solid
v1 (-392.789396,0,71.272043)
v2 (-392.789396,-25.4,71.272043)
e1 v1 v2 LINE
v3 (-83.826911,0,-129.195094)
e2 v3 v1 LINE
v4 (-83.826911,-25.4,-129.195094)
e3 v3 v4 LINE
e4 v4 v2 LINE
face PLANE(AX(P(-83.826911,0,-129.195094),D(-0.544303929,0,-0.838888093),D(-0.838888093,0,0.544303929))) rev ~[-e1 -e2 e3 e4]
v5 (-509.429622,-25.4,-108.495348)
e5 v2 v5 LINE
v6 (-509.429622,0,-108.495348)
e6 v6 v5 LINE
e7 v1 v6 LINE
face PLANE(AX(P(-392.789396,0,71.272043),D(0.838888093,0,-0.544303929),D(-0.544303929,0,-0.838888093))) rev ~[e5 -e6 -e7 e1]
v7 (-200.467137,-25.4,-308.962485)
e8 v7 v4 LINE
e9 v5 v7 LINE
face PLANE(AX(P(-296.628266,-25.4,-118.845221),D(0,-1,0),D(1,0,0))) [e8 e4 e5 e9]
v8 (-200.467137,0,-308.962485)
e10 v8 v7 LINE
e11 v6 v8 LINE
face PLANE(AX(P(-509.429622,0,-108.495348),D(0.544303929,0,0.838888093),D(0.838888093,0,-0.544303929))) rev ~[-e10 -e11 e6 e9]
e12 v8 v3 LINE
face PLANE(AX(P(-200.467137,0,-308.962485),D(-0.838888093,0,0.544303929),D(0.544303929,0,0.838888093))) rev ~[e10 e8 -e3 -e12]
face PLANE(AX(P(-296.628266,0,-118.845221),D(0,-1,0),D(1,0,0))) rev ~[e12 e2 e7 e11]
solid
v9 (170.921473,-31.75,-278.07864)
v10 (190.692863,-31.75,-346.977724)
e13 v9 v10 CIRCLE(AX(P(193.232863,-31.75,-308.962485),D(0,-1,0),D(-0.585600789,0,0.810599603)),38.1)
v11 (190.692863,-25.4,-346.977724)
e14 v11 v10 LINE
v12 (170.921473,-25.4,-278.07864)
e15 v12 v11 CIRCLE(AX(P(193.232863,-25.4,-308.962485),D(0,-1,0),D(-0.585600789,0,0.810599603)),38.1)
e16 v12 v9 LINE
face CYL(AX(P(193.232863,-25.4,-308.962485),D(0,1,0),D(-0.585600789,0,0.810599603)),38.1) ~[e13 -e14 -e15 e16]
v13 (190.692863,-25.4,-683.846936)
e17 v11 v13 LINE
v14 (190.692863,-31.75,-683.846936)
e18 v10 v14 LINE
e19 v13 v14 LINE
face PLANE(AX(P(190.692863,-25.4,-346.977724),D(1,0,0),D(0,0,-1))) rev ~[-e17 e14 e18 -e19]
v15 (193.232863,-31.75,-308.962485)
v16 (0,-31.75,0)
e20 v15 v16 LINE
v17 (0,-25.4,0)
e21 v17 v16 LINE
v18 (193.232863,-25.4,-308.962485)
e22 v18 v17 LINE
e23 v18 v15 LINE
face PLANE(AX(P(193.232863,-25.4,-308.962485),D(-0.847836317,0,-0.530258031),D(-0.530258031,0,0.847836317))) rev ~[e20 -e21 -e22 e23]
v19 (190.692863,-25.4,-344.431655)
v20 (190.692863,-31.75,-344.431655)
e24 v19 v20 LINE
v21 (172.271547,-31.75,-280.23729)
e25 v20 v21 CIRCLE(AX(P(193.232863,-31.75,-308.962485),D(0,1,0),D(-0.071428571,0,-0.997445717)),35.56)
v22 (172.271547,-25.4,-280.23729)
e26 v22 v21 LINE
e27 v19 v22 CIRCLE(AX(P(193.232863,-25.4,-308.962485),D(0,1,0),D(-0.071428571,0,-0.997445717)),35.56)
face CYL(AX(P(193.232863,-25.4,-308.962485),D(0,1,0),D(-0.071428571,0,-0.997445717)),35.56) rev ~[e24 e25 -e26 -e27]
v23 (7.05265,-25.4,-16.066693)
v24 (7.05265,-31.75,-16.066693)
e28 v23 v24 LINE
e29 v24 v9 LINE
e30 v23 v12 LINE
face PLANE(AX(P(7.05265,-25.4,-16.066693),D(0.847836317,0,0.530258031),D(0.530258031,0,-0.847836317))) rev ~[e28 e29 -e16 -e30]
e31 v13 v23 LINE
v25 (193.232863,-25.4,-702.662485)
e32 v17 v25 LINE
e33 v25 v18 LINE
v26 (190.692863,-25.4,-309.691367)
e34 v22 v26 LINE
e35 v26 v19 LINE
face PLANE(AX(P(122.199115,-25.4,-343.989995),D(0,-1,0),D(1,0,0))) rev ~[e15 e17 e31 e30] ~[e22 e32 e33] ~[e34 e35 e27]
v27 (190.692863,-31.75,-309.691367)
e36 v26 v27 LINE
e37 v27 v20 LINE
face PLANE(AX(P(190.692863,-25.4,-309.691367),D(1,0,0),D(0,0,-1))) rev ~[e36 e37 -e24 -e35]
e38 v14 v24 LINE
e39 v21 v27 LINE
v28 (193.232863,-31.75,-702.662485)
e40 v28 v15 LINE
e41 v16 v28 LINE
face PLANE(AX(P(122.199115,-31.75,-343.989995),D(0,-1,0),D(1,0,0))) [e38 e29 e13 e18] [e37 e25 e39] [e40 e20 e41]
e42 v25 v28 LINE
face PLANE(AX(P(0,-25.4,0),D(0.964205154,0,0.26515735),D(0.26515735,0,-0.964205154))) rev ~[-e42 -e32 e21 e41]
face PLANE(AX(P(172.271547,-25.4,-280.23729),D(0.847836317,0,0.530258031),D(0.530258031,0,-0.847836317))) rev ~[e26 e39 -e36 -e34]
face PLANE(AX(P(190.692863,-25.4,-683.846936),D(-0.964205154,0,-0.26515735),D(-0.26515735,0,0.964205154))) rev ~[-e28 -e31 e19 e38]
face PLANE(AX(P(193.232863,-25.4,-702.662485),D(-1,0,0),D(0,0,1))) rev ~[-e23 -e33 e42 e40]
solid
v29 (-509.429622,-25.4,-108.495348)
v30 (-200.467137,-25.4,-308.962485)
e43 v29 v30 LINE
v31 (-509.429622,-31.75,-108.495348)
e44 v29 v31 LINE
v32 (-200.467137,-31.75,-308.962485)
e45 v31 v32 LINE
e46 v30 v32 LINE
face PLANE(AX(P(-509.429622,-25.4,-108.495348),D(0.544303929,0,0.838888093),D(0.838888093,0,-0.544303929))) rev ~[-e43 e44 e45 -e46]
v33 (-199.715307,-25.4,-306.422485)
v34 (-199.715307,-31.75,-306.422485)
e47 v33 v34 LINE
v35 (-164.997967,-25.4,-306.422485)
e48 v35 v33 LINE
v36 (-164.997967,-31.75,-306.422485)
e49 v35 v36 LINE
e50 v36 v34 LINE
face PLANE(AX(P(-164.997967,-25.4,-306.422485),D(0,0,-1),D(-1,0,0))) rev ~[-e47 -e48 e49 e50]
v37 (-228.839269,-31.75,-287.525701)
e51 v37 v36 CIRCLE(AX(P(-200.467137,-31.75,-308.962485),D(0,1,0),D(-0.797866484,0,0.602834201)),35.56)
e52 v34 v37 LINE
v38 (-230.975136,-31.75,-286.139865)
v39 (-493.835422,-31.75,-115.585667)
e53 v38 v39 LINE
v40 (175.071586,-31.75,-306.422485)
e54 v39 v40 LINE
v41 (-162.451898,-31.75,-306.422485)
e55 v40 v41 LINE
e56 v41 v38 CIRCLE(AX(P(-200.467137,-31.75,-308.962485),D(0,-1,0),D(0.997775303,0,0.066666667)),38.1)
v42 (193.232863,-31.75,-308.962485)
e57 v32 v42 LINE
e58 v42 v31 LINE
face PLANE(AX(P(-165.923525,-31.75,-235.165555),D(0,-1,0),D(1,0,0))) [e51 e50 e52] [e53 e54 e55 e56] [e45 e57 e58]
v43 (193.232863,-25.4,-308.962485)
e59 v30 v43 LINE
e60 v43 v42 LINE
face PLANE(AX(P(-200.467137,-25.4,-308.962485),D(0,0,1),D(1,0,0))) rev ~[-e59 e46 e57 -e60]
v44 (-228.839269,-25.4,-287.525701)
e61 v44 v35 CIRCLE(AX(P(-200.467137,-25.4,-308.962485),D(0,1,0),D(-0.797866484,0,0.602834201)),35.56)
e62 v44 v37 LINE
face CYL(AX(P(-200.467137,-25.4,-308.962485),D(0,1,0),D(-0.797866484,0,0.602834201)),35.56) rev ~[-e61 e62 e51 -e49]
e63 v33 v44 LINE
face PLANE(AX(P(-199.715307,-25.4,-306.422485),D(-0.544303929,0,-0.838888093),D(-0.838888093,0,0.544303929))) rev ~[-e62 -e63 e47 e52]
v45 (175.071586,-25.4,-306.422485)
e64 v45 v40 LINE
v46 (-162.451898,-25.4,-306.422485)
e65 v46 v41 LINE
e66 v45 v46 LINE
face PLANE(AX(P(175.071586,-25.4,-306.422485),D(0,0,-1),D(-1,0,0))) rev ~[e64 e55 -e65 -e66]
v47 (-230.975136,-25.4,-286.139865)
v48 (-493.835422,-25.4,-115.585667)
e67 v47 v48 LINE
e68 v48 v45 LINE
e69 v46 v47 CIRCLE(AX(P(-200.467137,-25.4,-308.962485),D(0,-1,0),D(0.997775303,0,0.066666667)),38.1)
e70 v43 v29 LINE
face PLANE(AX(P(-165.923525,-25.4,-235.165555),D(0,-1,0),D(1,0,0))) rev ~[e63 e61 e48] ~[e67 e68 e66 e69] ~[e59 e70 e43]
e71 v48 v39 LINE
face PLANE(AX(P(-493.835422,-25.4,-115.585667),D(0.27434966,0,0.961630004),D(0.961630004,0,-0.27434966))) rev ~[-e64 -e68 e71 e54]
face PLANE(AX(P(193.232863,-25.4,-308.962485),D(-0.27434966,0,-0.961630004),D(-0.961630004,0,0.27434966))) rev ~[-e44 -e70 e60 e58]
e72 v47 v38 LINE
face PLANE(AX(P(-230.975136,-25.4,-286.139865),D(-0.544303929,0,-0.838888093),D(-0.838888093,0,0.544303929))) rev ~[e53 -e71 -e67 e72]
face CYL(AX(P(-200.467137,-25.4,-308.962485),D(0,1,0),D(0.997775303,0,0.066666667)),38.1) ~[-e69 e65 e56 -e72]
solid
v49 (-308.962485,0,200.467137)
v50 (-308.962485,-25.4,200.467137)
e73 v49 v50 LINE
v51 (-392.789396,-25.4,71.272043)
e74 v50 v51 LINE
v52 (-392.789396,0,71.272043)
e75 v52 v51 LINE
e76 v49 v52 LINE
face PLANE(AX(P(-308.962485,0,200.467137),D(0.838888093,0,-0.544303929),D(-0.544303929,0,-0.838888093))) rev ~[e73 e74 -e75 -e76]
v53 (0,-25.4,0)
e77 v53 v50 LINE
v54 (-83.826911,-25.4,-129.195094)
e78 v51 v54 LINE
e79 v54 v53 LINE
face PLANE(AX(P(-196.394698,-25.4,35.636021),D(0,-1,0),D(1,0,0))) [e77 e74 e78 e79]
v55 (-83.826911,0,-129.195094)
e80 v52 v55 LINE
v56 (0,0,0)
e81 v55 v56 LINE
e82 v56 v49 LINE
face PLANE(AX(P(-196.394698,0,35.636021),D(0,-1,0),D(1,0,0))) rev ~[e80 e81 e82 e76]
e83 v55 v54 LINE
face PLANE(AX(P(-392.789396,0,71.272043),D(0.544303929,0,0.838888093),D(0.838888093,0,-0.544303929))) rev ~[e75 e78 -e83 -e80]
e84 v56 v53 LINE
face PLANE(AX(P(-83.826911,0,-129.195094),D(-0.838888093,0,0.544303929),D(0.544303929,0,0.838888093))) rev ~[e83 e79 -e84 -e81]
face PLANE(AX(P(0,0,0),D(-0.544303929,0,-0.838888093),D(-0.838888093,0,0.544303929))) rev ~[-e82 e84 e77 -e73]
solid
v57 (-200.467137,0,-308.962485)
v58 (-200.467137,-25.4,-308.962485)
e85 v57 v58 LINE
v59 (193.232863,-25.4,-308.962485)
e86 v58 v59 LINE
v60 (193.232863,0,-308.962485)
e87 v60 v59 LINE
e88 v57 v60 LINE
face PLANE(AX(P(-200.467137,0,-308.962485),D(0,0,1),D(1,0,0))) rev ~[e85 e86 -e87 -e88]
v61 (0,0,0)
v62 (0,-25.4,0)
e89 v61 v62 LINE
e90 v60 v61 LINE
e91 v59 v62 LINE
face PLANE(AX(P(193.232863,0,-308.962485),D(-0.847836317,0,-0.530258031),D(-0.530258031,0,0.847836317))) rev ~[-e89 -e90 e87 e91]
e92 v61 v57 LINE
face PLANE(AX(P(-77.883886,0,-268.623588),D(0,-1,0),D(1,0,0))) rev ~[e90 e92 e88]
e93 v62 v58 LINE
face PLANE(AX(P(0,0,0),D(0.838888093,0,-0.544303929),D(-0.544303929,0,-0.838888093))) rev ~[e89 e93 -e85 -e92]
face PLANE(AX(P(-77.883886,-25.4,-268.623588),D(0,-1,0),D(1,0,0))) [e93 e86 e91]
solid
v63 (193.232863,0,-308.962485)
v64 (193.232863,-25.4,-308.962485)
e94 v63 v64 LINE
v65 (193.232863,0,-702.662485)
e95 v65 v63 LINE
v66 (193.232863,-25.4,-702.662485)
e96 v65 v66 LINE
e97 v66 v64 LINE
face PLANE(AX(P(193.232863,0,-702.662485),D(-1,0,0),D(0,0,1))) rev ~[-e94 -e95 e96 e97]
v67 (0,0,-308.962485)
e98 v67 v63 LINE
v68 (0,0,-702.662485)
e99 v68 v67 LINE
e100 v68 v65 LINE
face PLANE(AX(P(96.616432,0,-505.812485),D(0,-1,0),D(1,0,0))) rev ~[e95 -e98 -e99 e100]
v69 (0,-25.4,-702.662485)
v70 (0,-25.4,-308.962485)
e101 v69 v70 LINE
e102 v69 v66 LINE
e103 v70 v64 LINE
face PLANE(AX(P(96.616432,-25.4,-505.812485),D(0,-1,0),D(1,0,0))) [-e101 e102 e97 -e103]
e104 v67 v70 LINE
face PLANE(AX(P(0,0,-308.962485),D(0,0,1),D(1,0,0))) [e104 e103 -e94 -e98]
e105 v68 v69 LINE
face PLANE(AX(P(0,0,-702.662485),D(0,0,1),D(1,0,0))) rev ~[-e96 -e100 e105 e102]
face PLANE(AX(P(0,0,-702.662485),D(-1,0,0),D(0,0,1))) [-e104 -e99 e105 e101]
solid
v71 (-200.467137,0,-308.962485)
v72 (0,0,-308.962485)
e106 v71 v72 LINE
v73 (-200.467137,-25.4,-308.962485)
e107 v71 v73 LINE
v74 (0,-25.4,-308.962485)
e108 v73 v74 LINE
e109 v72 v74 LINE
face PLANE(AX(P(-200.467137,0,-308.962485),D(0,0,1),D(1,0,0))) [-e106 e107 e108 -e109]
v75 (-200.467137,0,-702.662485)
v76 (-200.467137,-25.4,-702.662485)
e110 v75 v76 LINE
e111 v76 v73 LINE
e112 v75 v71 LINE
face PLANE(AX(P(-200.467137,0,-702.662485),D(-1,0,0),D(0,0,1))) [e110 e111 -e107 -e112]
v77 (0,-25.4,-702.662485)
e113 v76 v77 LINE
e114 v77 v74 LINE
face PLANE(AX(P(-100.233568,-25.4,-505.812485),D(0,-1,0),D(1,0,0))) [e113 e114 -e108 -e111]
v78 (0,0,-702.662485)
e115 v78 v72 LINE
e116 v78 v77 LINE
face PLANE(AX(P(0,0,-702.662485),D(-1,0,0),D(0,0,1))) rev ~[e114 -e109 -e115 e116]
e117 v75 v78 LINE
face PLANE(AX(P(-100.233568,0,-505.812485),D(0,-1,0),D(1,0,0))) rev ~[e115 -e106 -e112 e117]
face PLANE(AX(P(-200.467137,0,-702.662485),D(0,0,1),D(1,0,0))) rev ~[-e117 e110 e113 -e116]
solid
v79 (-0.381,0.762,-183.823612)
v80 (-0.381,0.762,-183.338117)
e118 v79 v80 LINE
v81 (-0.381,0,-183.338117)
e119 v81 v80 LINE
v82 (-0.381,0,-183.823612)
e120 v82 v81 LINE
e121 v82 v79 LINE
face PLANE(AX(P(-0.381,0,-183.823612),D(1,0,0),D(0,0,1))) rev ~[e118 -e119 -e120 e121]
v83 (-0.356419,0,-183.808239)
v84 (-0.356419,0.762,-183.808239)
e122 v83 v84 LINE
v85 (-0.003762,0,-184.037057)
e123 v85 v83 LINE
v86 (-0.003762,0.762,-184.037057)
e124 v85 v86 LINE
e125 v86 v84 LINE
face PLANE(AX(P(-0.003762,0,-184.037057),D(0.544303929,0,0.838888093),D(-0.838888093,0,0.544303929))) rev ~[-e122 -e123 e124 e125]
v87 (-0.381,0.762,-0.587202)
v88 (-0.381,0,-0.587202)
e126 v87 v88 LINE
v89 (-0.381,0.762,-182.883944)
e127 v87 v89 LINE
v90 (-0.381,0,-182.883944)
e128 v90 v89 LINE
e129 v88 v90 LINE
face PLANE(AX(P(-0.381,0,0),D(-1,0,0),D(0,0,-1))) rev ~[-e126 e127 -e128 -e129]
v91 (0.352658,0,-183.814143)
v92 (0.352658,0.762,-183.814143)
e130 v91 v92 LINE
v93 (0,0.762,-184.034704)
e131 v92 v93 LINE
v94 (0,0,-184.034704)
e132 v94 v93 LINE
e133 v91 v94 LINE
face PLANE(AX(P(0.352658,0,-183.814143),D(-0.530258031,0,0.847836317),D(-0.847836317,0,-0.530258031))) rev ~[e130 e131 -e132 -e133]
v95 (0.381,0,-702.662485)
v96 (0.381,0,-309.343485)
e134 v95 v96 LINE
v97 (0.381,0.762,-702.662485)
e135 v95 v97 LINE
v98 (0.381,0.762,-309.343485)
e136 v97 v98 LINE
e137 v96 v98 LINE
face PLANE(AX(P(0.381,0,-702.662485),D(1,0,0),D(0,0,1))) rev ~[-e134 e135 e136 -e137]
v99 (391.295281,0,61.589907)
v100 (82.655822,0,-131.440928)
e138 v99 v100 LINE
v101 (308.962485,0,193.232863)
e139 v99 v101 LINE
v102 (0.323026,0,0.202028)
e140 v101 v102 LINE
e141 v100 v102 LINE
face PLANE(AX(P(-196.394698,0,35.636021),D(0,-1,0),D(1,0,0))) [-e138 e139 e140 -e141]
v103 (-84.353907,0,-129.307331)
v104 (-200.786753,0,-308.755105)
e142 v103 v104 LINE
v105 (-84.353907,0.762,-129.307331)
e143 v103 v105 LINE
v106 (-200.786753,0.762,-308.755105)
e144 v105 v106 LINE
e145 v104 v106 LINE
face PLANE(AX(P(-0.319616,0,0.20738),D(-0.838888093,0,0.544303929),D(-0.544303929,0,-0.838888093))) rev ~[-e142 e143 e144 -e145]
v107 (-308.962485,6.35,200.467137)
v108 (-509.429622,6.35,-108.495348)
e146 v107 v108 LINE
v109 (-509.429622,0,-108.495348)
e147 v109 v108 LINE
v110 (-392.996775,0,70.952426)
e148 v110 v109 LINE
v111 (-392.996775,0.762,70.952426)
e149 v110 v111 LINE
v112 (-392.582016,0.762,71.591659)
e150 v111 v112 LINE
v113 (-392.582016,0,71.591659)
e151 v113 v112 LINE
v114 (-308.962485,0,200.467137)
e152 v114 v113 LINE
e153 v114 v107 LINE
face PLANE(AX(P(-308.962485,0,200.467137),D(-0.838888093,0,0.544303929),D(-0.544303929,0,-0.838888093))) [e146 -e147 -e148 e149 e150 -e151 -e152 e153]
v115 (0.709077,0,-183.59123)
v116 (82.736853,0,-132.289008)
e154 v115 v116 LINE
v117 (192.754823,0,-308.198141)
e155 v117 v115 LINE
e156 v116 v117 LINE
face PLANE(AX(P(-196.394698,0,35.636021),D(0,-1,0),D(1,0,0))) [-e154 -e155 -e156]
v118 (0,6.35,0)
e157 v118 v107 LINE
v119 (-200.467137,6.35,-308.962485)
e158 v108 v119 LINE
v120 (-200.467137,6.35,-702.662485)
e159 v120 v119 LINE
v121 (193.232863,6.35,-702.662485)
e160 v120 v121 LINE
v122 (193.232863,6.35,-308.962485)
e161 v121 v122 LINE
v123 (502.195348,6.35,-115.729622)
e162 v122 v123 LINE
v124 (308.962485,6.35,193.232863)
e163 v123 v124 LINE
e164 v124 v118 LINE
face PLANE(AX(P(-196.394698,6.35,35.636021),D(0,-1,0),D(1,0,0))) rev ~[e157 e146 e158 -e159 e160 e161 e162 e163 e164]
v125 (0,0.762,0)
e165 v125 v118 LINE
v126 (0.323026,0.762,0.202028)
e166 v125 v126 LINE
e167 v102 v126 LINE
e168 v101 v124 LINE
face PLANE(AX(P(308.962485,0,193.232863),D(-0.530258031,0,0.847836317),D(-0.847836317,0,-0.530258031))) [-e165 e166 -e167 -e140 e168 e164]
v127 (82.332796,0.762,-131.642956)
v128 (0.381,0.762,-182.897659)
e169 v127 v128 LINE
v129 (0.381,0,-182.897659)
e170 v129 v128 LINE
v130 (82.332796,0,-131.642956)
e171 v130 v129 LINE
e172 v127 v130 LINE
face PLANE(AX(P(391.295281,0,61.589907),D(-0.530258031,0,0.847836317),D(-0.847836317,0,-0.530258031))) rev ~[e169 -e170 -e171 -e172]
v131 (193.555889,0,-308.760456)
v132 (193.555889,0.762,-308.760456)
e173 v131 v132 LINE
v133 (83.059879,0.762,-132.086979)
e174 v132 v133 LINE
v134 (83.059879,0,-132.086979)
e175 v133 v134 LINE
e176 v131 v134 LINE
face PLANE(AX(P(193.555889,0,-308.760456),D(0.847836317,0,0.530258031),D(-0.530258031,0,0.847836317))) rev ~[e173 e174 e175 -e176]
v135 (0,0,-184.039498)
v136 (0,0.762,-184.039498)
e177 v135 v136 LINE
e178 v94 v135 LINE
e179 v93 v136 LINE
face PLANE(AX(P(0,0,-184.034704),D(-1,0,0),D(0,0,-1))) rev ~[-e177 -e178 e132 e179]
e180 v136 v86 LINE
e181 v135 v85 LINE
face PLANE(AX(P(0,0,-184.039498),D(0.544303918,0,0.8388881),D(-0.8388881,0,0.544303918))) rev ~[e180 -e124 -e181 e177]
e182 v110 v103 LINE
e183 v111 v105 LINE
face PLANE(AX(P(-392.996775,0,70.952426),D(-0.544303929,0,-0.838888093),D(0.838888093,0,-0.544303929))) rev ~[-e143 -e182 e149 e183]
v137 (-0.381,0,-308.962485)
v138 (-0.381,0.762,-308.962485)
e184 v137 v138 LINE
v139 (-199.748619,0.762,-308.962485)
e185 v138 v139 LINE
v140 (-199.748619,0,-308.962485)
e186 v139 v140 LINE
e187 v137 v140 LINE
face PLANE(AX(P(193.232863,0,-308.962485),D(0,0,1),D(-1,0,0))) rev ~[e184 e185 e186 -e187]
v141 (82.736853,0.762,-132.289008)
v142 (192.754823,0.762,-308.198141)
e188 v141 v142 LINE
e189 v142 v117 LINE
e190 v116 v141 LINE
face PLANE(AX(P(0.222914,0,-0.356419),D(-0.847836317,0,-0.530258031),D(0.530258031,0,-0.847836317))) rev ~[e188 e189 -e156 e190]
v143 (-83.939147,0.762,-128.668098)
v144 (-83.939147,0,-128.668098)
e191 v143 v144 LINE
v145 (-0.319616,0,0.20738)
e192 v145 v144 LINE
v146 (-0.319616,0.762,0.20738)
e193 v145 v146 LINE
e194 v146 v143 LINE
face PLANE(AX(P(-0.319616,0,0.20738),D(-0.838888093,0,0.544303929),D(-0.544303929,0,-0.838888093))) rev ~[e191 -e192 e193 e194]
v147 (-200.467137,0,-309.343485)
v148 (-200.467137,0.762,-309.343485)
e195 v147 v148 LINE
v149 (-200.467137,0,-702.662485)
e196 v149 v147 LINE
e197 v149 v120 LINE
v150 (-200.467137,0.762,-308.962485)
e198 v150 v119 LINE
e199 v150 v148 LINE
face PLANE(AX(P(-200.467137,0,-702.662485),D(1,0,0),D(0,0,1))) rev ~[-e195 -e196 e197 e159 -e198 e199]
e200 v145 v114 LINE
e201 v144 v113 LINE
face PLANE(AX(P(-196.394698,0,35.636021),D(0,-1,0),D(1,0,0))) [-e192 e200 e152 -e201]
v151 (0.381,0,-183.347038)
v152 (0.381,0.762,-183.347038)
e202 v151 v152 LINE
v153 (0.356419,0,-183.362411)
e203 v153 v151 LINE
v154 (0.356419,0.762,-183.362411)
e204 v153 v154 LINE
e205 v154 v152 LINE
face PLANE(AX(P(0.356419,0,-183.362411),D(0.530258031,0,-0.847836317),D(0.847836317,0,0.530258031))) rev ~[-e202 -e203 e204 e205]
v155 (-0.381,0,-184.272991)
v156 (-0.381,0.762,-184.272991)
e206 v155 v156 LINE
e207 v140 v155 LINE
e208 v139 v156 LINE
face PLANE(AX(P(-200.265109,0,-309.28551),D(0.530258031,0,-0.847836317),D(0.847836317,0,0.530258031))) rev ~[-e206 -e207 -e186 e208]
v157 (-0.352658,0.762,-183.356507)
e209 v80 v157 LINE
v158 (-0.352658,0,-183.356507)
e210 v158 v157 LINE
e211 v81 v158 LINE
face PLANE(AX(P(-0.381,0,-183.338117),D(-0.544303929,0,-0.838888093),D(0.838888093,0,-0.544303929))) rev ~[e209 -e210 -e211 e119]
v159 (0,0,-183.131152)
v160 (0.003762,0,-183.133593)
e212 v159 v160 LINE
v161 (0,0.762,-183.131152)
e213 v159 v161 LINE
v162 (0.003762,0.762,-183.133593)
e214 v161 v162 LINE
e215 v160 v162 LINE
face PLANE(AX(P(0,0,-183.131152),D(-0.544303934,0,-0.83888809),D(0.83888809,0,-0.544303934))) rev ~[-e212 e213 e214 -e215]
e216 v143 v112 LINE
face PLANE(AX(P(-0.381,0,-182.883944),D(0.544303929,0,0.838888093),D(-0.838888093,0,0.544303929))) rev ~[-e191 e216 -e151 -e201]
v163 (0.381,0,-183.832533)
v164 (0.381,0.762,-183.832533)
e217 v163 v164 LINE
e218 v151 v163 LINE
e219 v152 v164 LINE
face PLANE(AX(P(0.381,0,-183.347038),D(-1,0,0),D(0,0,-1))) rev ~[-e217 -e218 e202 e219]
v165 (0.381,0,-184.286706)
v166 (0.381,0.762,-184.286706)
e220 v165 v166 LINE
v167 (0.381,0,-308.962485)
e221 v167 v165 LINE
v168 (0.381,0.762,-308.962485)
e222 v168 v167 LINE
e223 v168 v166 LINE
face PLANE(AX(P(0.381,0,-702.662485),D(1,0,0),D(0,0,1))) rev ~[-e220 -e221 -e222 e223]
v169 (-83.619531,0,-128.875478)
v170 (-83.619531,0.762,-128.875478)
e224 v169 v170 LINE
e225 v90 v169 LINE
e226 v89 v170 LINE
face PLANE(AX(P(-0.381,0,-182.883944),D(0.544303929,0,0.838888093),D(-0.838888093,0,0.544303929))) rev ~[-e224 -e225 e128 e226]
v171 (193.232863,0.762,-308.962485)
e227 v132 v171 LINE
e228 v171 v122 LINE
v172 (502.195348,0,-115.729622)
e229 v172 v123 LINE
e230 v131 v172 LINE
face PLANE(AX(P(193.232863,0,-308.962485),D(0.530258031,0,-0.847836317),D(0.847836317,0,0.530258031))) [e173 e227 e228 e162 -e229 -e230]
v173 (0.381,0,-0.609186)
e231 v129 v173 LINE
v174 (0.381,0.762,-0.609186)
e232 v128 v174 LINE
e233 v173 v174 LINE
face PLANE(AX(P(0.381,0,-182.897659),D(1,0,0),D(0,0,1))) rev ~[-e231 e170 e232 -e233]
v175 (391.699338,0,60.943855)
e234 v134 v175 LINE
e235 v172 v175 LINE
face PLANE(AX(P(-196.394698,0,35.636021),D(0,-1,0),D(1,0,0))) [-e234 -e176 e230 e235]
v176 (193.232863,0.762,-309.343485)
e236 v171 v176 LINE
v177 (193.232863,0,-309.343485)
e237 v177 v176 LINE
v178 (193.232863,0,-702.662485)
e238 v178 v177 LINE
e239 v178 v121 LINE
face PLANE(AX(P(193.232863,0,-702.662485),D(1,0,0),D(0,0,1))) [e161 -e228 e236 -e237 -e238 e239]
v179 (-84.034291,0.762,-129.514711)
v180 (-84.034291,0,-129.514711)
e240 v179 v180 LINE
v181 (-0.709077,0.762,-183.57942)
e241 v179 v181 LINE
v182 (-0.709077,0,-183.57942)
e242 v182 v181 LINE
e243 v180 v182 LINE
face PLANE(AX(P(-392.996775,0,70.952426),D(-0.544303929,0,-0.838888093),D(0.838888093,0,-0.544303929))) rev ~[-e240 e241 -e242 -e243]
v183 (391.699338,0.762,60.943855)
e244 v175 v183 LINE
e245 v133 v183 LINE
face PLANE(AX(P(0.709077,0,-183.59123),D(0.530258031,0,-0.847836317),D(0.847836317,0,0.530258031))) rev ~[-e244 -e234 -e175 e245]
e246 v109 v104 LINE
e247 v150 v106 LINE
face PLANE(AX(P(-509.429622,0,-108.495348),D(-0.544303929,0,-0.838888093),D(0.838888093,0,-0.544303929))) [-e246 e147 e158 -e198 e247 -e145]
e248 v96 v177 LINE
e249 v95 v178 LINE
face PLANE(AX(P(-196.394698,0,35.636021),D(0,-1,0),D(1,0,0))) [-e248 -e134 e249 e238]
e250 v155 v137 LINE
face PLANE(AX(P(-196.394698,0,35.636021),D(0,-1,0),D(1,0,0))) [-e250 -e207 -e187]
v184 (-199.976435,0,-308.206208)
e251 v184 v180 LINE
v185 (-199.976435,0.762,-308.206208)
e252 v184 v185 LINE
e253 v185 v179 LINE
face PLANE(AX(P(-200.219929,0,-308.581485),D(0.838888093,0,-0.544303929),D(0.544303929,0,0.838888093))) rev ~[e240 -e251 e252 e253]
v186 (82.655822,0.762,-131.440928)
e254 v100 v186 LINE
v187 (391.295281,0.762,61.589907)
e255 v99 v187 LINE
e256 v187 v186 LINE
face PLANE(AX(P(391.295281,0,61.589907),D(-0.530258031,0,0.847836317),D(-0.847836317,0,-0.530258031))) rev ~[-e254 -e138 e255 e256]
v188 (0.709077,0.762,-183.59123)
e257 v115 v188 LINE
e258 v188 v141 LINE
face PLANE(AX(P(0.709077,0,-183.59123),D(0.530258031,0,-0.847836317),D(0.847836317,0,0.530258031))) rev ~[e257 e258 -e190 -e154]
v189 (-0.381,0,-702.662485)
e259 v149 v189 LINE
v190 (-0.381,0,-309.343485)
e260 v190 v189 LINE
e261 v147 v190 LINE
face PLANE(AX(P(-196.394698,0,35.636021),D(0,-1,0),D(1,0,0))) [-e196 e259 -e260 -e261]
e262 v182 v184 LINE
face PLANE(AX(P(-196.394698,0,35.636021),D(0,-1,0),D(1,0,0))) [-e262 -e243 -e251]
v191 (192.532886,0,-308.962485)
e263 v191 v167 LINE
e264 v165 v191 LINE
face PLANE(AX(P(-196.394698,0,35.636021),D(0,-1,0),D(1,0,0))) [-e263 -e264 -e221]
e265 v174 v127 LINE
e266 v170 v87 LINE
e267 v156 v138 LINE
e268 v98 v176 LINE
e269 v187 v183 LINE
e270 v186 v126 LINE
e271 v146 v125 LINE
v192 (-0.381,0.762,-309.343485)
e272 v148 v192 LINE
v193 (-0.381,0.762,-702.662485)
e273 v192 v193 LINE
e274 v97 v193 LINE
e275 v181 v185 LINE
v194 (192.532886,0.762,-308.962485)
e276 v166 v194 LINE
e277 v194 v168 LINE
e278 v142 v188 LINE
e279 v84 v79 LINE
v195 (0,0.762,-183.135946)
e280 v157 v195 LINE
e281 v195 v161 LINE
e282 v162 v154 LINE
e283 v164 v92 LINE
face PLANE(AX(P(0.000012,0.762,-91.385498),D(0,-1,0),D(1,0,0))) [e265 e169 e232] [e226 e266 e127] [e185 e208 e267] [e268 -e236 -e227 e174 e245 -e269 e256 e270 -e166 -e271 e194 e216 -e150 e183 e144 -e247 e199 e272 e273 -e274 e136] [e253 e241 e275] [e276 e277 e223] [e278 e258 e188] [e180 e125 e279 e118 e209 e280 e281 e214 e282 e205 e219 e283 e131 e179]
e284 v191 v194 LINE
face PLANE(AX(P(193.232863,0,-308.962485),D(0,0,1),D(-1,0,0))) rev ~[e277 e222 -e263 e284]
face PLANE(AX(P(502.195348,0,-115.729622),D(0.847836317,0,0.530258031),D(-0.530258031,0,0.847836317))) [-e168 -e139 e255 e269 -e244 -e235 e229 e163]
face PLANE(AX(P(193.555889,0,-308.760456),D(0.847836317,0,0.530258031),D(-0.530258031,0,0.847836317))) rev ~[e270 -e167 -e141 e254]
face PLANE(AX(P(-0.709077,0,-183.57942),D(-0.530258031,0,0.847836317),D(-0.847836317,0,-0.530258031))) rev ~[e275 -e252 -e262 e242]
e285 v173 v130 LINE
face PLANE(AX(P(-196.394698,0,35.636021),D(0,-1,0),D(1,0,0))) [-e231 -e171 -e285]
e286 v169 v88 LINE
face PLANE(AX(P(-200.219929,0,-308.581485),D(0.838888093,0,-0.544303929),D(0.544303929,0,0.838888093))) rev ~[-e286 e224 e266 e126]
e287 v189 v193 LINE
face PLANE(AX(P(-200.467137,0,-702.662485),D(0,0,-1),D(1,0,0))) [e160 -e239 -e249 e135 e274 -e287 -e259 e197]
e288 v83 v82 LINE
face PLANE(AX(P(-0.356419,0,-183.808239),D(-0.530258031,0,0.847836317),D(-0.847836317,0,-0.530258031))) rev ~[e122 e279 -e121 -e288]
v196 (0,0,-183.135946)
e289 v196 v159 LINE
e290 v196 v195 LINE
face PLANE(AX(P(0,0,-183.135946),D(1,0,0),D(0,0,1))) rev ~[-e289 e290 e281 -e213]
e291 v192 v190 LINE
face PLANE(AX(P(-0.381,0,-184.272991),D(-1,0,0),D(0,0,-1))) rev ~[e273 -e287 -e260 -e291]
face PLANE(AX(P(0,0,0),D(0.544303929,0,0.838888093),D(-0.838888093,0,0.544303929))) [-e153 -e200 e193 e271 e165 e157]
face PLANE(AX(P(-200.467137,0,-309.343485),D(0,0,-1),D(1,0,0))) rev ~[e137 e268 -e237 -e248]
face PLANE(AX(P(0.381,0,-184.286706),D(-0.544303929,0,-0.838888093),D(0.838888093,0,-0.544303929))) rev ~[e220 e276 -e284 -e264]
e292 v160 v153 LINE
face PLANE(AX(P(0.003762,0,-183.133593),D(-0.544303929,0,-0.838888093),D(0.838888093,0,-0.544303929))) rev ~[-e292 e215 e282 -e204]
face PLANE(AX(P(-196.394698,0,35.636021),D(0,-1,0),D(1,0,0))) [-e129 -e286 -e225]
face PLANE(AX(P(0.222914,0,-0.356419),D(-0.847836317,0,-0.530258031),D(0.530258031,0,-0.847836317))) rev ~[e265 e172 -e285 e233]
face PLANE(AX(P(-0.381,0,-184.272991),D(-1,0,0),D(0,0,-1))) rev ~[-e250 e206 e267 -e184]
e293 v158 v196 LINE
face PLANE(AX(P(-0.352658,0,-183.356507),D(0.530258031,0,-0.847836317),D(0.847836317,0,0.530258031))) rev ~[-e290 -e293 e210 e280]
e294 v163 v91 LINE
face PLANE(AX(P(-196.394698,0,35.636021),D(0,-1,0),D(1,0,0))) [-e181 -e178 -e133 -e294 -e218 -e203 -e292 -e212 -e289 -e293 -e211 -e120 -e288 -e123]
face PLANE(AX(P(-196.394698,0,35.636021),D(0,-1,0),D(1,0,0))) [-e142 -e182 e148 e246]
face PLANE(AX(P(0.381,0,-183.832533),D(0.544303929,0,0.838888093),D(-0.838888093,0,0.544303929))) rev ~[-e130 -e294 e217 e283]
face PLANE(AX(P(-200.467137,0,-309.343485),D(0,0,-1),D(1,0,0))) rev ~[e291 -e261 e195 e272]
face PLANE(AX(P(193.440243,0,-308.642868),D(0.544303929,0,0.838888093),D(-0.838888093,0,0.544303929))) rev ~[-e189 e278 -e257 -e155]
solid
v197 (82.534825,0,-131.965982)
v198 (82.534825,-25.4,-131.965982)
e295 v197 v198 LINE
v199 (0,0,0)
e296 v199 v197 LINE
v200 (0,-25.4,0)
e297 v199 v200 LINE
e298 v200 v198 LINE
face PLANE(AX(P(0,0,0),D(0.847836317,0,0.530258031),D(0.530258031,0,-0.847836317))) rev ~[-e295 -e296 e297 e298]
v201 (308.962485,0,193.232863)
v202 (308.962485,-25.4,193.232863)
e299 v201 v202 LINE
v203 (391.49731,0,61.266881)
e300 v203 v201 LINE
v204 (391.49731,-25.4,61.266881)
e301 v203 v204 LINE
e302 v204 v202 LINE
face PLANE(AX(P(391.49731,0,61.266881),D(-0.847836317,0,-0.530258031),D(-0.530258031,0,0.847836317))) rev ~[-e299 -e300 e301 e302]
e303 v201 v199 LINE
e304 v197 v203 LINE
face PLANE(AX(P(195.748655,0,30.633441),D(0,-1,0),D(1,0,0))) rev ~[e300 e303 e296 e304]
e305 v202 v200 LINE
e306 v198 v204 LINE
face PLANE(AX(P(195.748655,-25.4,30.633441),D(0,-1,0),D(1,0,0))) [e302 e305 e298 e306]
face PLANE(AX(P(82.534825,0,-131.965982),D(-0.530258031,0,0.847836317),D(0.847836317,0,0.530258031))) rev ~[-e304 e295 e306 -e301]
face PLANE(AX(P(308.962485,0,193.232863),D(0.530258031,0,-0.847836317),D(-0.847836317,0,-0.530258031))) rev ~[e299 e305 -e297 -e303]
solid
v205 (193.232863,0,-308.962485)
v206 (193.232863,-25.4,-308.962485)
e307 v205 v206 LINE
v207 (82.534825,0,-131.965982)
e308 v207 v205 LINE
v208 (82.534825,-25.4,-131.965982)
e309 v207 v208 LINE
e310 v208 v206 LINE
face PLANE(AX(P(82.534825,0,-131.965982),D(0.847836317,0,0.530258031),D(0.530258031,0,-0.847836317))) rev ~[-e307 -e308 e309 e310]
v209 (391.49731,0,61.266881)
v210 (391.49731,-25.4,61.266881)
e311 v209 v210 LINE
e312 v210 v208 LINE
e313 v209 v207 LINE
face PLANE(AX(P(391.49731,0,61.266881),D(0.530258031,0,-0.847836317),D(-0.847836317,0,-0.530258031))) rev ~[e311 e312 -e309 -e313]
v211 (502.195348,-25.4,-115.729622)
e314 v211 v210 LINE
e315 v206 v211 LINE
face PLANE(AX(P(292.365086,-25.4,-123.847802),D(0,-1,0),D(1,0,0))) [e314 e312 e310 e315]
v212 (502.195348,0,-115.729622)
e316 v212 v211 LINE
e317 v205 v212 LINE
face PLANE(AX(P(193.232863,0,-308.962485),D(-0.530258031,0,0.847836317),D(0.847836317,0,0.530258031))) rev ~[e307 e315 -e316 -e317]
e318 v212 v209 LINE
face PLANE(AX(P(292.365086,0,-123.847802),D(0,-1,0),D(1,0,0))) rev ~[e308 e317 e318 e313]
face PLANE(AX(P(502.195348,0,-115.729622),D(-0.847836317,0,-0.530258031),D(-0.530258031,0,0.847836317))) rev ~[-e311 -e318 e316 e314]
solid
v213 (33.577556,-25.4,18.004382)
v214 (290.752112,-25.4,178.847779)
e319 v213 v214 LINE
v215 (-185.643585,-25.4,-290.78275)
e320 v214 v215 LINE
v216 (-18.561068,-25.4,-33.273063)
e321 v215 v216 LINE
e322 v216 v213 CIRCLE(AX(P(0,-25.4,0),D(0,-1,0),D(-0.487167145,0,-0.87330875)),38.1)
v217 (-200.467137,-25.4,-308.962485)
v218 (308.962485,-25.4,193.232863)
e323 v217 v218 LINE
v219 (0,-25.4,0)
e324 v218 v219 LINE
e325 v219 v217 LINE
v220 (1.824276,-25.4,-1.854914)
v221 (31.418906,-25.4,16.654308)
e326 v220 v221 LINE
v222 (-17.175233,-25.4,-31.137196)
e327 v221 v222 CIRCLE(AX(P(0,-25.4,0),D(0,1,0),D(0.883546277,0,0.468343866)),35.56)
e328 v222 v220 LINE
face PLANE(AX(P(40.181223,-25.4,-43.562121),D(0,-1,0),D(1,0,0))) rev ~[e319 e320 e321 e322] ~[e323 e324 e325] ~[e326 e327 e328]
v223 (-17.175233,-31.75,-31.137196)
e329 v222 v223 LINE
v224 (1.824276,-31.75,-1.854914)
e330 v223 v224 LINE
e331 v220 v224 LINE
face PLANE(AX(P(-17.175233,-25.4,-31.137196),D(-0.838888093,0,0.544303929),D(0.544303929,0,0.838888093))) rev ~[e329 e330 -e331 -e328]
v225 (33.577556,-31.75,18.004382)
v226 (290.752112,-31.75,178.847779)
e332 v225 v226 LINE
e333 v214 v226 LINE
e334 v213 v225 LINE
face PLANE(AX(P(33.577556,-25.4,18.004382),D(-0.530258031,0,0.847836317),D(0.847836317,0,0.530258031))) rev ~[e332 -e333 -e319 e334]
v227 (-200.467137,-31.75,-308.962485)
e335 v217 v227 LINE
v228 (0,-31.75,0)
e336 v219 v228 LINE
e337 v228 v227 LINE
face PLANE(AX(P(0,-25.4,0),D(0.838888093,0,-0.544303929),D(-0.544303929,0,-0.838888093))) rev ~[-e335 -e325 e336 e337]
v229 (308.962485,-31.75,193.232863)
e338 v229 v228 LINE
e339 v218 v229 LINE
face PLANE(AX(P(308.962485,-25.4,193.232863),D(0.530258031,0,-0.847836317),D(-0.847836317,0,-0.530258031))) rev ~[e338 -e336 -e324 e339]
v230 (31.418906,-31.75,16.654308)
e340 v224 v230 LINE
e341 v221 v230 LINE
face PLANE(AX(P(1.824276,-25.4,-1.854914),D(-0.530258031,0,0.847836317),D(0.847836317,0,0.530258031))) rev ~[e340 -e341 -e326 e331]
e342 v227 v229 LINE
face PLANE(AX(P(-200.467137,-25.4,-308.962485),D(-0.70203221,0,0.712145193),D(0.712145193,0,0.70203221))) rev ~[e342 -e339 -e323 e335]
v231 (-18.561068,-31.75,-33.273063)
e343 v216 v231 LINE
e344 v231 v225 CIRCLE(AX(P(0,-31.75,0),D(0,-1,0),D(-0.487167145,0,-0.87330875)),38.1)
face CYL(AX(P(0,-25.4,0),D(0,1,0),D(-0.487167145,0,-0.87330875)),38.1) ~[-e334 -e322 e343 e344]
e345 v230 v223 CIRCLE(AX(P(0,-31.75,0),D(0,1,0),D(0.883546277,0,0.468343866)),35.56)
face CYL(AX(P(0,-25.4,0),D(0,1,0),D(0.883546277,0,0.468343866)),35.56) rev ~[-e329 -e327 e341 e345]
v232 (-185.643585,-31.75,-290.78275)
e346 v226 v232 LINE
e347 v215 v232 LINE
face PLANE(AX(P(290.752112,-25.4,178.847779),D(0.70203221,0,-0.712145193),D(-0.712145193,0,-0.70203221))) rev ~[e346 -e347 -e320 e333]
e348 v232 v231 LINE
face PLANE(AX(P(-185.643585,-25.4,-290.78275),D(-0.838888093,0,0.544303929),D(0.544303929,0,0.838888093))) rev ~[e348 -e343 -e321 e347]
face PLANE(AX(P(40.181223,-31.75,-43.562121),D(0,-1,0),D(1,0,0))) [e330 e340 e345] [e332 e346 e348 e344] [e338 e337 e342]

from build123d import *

# Parameters (mm, degrees)
F0_W      = 200.4671369366
F0_H      = 393.7
F0_W_2    = 193.2328630634
F1_DEPTH  = 6.35
F4_DEPTH  = 0.762
F5_DEPTH  = 25.4
F6_DEPTH  = 25.4
F7_DEPTH  = 25.4
F8_DEPTH  = 25.4
F10_DEPTH = 6.35
F12_DEPTH = 6.35
F14_DEPTH = 6.35


with BuildPart() as f1:
    # F0 (on Front) → F1 (new body)
    with BuildSketch(Plane.XZ):
        Polygon((-83.8269108523, -129.1950943436), (0, 0), (-308.9624847913, 200.4671369366), (-392.7893956437, 71.272042593), align=None)
        Polygon((-200.4671369366, -308.9624847913), (-83.8269108523, -129.1950943436), (-392.7893956437, 71.272042593), (-509.429621728, -108.4953478547), align=None)
        with Locations((-100.2335684683, -505.8124847913)):
            Rectangle(F0_W, F0_H)
        with Locations((96.6164315317, -505.8124847913)):
            Rectangle(F0_W_2, F0_H)
        Polygon((391.4973095124, 61.2668810695), (82.5348247211, -131.9659819939), (193.2328630634, -308.9624847913), (502.1953478547, -115.729621728), align=None)
        Polygon((308.9624847913, 193.2328630634), (0, 0), (82.5348247211, -131.9659819939), (391.4973095124, 61.2668810695), align=None)
        Polygon((193.2328630634, -308.9624847913), (82.5348247211, -131.9659819939), (0, -183.5853250156), align=None)
        Polygon((82.5348247211, -131.9659819939), (0, 0), (0, -183.5853250156), align=None)
        Polygon((0, -183.5853250156), (0, 0), (-83.8269108523, -129.1950943436), align=None)
        Polygon((0, -183.5853250156), (-83.8269108523, -129.1950943436), (-200.4671369366, -308.9624847913), align=None)
        Polygon((0, -308.9624847913), (0, -183.5853250156), (-200.4671369366, -308.9624847913), align=None)
        Polygon((193.2328630634, -308.9624847913), (0, -183.5853250156), (0, -308.9624847913), align=None)
    extrude(amount=-F1_DEPTH)

    # F2 (on face) + F3 (on face) → F4 (cut)
    with BuildSketch(Plane.XZ):
        with BuildLine():
            Line((-0.381, -182.8839444602), (0, -183.1311523995))
            Line((0, -183.1311523995), (0.0037617167, -183.1335931508))
            Line((0.0037617167, -183.1335931508), (0.381, -182.8976588962))
            Line((0.381, -182.8976588962), (0.381, 0))
            ThreePointArc((0.381, 0), (0, 0.381), (-0.381, 0))
            Line((-0.381, 0), (-0.381, -182.8839444602))
        make_face()
        Polygon((0, -183.1359458225), (0, -183.1311523995), (-0.381, -182.8839444602), (-0.381, -183.3381170764), (-0.3526576381, -183.356506727), align=None)
        Polygon((0.381, -182.8976588962), (0.0037617167, -183.1335931508), (0.3564193548, -183.3624114395), (0.381, -183.3470380894), align=None)
        with BuildLine():
            Line((-0.381, -183.3381170764), (-0.381, -182.8839444602))
            Line((-0.381, -182.8839444602), (-392.5820158468, 71.5916589566))
            ThreePointArc((-392.5820158468, 71.5916589566), (-393.1090120072, 71.4794223899), (-392.9967754405, 70.9524262295))
            Line((-392.9967754405, 70.9524262295), (-0.7090769929, -183.5794203031))
            Line((-0.7090769929, -183.5794203031), (-0.381, -183.3742327487))
            Line((-0.381, -183.3742327487), (-0.381, -183.3381170764))
        make_face()
        with BuildLine():
            Line((391.2952812025, 61.5899067062), (0.381, -182.8976588962))
            Line((0.381, -182.8976588962), (0.381, -183.3470380894))
            Line((0.381, -183.3470380894), (0.381, -183.3783603388))
            Line((0.381, -183.3783603388), (0.7090769929, -183.5912297281))
            Line((0.7090769929, -183.5912297281), (391.6993378223, 60.9438554327))
            ThreePointArc((391.6993378223, 60.9438554327), (391.8203351492, 61.4689093794), (391.2952812025, 61.5899067062))
        make_face()
        Polygon((0.3526576381, -183.8141433043), (0, -184.0347042088), (0, -184.0394976317), (0.381, -184.286705571), (0.381, -183.8325329549), align=None)
        Polygon((-0.0037617167, -184.0370568805), (-0.3564193548, -183.8082385918), (-0.381, -183.8236119419), (-0.381, -184.272991135), align=None)
        Polygon((-0.381, -183.7922896925), (-0.381, -183.3742327487), (-0.7090769929, -183.5794203031), align=None)
        Polygon((0.7090769929, -183.5912297281), (0.381, -183.3783603388), (0.381, -183.7964172825), align=None)
        with BuildLine():
            Line((0.381, -184.286705571), (0, -184.0394976317))
            Line((0, -184.0394976317), (-0.0037617167, -184.0370568805))
            Line((-0.0037617167, -184.0370568805), (-0.381, -184.272991135))
            Line((-0.381, -184.272991135), (-0.381, -702.6624847913))
            ThreePointArc((-0.381, -702.6624847913), (0, -703.0434847913), (0.381, -702.6624847913))
            Line((0.381, -702.6624847913), (0.381, -184.286705571))
        make_face()
        with BuildLine():
            Line((0.381, -183.7964172825), (0.381, -183.8325329549))
            Line((0.381, -183.8325329549), (0.381, -184.286705571))
            Line((0.381, -184.286705571), (193.0254832665, -309.2821011549))
            ThreePointArc((193.0254832665, -309.2821011549), (193.552479427, -309.1698645882), (193.4402428602, -308.6428684278))
            Line((193.4402428602, -308.6428684278), (0.7090769929, -183.5912297281))
            Line((0.7090769929, -183.5912297281), (0.381, -183.7964172825))
        make_face()
        with BuildLine():
            Line((-0.381, -184.272991135), (-0.381, -183.8236119419))
            Line((-0.381, -183.8236119419), (-0.381, -183.7922896925))
            Line((-0.381, -183.7922896925), (-0.7090769929, -183.5794203031))
            Line((-0.7090769929, -183.5794203031), (-200.6691652465, -308.6394591546))
            ThreePointArc((-200.6691652465, -308.6394591546), (-200.7901625734, -309.1645131012), (-200.2651086267, -309.2855104281))
            Line((-200.2651086267, -309.2855104281), (-0.381, -184.272991135))
        make_face()
    with BuildSketch(Plane.XZ):
        with BuildLine():
            Line((-0.2288182887, -0.3526576381), (0, 0))
            Line((0, 0), (0.2229135762, -0.3564193548))
            Line((0.2229135762, -0.3564193548), (0.3196163636, -0.2073797968))
            ThreePointArc((0.3196163636, -0.2073797968), (0.3809867906, -0.0031725997), (0.3230256367, 0.2020283099))
            ThreePointArc((0.3230256367, 0.2020283099), (0.0031725997, 0.3809867906), (-0.3196163636, 0.2073797968))
            ThreePointArc((-0.3196163636, 0.2073797968), (-0.3809867906, 0.0031725997), (-0.3230256367, -0.2020283099))
            Line((-0.3230256367, -0.2020283099), (-0.2288182887, -0.3526576381))
        make_face()
        with BuildLine():
            Line((-200.2199289974, -308.5814847913), (-0.2288182887, -0.3526576381))
            Line((-0.2288182887, -0.3526576381), (-0.3230256367, -0.2020283099))
            ThreePointArc((-0.3230256367, -0.2020283099), (-0.3809867906, 0.0031725997), (-0.3196163636, 0.2073797968))
            Line((-0.3196163636, 0.2073797968), (-200.7867533002, -308.7551049945))
            ThreePointArc((-200.7867533002, -308.7551049945), (-200.6490013056, -308.6276917936), (-200.4671369366, -308.5814847913))
            Line((-200.4671369366, -308.5814847913), (-200.2199289974, -308.5814847913))
        make_face()
        with BuildLine():
            Line((0.3196163636, -0.2073797968), (0.2229135762, -0.3564193548))
            Line((0.2229135762, -0.3564193548), (192.9945761371, -308.5814847913))
            Line((192.9945761371, -308.5814847913), (193.2328630634, -308.5814847913))
            ThreePointArc((193.2328630634, -308.5814847913), (193.4175089595, -308.6292177917), (193.5558887001, -308.7604564814))
            Line((193.5558887001, -308.7604564814), (0.3230256367, 0.2020283099))
            ThreePointArc((0.3230256367, 0.2020283099), (0.3809867906, -0.0031725997), (0.3196163636, -0.2073797968))
        make_face()
        with BuildLine():
            Line((-200.4671369366, -308.9624847913), (-200.2199289974, -308.5814847913))
            Line((-200.2199289974, -308.5814847913), (-200.4671369366, -308.5814847913))
            ThreePointArc((-200.4671369366, -308.5814847913), (-200.6490013056, -308.6276917936), (-200.7867533002, -308.7551049945))
            ThreePointArc((-200.7867533002, -308.7551049945), (-200.8019299343, -309.1443491603), (-200.4671369366, -309.3434847913))
            ThreePointArc((-200.4671369366, -309.3434847913), (-200.2852725676, -309.297277789), (-200.147520573, -309.1698645882))
            Line((-200.147520573, -309.1698645882), (-200.0129643205, -308.9624847913))
            Line((-200.0129643205, -308.9624847913), (-200.4671369366, -308.9624847913))
        make_face()
        with BuildLine():
            Line((193.2328630634, -308.5814847913), (192.9945761371, -308.5814847913))
            Line((192.9945761371, -308.5814847913), (193.2328630634, -308.9624847913))
            Line((193.2328630634, -308.9624847913), (192.7834838702, -308.9624847913))
            Line((192.7834838702, -308.9624847913), (192.9098374266, -309.1645131012))
            ThreePointArc((192.9098374266, -309.1645131012), (193.0482171672, -309.295751791), (193.2328630634, -309.3434847913))
            ThreePointArc((193.2328630634, -309.3434847913), (193.566130063, -309.1471306875), (193.5558887001, -308.7604564814))
            ThreePointArc((193.5558887001, -308.7604564814), (193.4175089595, -308.6292177917), (193.2328630634, -308.5814847913))
        make_face()
        with BuildLine():
            Line((192.7834838702, -308.9624847913), (-200.0129643205, -308.9624847913))
            Line((-200.0129643205, -308.9624847913), (-200.147520573, -309.1698645882))
            ThreePointArc((-200.147520573, -309.1698645882), (-200.2852725676, -309.297277789), (-200.4671369366, -309.3434847913))
            Line((-200.4671369366, -309.3434847913), (193.2328630634, -309.3434847913))
            ThreePointArc((193.2328630634, -309.3434847913), (193.0482171672, -309.295751791), (192.9098374266, -309.1645131012))
            Line((192.9098374266, -309.1645131012), (192.7834838702, -308.9624847913))
        make_face()
    extrude(amount=-F4_DEPTH, mode=Mode.SUBTRACT)


with BuildPart() as f5:
    # F0 (on Front) → F5 (new body)
    with BuildSketch(Plane.XZ):
        Polygon((-200.4671369366, -308.9624847913), (-83.8269108523, -129.1950943436), (-392.7893956437, 71.272042593), (-509.429621728, -108.4953478547), align=None)
    extrude(amount=F5_DEPTH)


with BuildPart() as f5b:
    # F0 (on Front) → F5, piece 2 (new body)
    with BuildSketch(Plane.XZ):
        with Locations((-100.2335684683, -505.8124847913)):
            Rectangle(F0_W, F0_H)
    extrude(amount=F5_DEPTH)


with BuildPart() as f6:
    # F0 (on Front) → F6 (new body)
    with BuildSketch(Plane.XZ):
        Polygon((391.4973095124, 61.2668810695), (82.5348247211, -131.9659819939), (193.2328630634, -308.9624847913), (502.1953478547, -115.729621728), align=None)
    extrude(amount=F6_DEPTH)


with BuildPart() as f6b:
    # F0 (on Front) → F6, piece 2 (new body)
    with BuildSketch(Plane.XZ):
        with Locations((96.6164315317, -505.8124847913)):
            Rectangle(F0_W_2, F0_H)
    extrude(amount=F6_DEPTH)


with BuildPart() as f7:
    # F0 (on Front) → F7 (new body)
    with BuildSketch(Plane.XZ):
        Polygon((308.9624847913, 193.2328630634), (0, 0), (82.5348247211, -131.9659819939), (391.4973095124, 61.2668810695), align=None)
    extrude(amount=F7_DEPTH)


with BuildPart() as f7b:
    # F0 (on Front) → F7, piece 2 (new body)
    with BuildSketch(Plane.XZ):
        Polygon((-83.8269108523, -129.1950943436), (0, 0), (-308.9624847913, 200.4671369366), (-392.7893956437, 71.272042593), align=None)
    extrude(amount=F7_DEPTH)


with BuildPart() as f8:
    # F0 (on Front) → F8 (new body)
    with BuildSketch(Plane.XZ):
        Polygon((0, -308.9624847913), (0, -183.5853250156), (-200.4671369366, -308.9624847913), align=None)
        Polygon((0, -183.5853250156), (-83.8269108523, -129.1950943436), (-200.4671369366, -308.9624847913), align=None)
        Polygon((0, -183.5853250156), (0, 0), (-83.8269108523, -129.1950943436), align=None)
        Polygon((82.5348247211, -131.9659819939), (0, 0), (0, -183.5853250156), align=None)
        Polygon((193.2328630634, -308.9624847913), (82.5348247211, -131.9659819939), (0, -183.5853250156), align=None)
        Polygon((193.2328630634, -308.9624847913), (0, -183.5853250156), (0, -308.9624847913), align=None)
    extrude(amount=F8_DEPTH)


with BuildPart() as f10:
    # F9 (on face) → F10 (new body)
    with BuildSketch(Plane.XZ.offset(25.4)):
        Polygon((-509.429621728, -108.4953478547), (-200.4671369366, -308.9624847913), (193.2328630634, -308.9624847913), align=None)
        with BuildLine():
            Line((-164.9979672255, -306.4224847913), (-199.7153065322, -306.4224847913))
            Line((-199.7153065322, -306.4224847913), (-228.8392691105, -287.525700613))
            ThreePointArc((-228.8392691105, -287.525700613), (-190.3743623666, -274.8648382233), (-164.9979672255, -306.4224847913))
        make_face(mode=Mode.SUBTRACT)
        with BuildLine():
            ThreePointArc((-162.451897887, -306.4224847913), (-189.6534498973, -272.4292920399), (-230.9751363634, -286.1398650693))
            Line((-230.9751363634, -286.1398650693), (-493.8354222417, -115.5856666852))
            Line((-493.8354222417, -115.5856666852), (175.0715859056, -306.4224847913))
            Line((175.0715859056, -306.4224847913), (-162.451897887, -306.4224847913))
        make_face(mode=Mode.SUBTRACT)
    extrude(amount=F10_DEPTH)


with BuildPart() as f12:
    # F11 (on face) → F12 (new body)
    with BuildSketch(Plane.XZ.offset(25.4)):
        Polygon((193.2328630634, -308.9624847913), (0, 0), (193.2328630634, -702.6624847913), align=None)
        with BuildLine():
            Line((7.0526502984, -16.0666931019), (170.9214730014, -278.0786399287))
            ThreePointArc((170.9214730014, -278.0786399287), (156.6108909975, -319.4715838016), (190.6928630634, -346.977723841))
            Line((190.6928630634, -346.977723841), (190.6928630634, -683.8469358795))
            Line((190.6928630634, -683.8469358795), (7.0526502984, -16.0666931019))
        make_face(mode=Mode.SUBTRACT)
        with BuildLine():
            Line((172.2715467163, -280.2372899792), (190.6928630634, -309.6913672076))
            Line((190.6928630634, -309.6913672076), (190.6928630634, -344.4316545025))
            ThreePointArc((190.6928630634, -344.4316545025), (159.0523558019, -318.770977201), (172.2715467163, -280.2372899792))
        make_face(mode=Mode.SUBTRACT)
    extrude(amount=F12_DEPTH)


with BuildPart() as f14:
    # F13 (on face) → F14 (new body)
    with BuildSketch(Plane.XZ.offset(25.4)):
        Polygon((308.9624847913, 193.2328630634), (0, 0), (-200.4671369366, -308.9624847913), align=None)
        with BuildLine():
            ThreePointArc((-18.5610682076, -33.2730633845), (26.7154976406, -27.1641709944), (33.5775556616, 18.0043815721))
            Line((33.5775556616, 18.0043815721), (290.7521120151, 178.8477793225))
            Line((290.7521120151, 178.8477793225), (-185.6435850577, -290.7827498101))
            Line((-185.6435850577, -290.7827498101), (-18.5610682076, -33.2730633845))
        make_face(mode=Mode.SUBTRACT)
        with BuildLine():
            Line((-17.175232664, -31.1371961316), (1.8242757965, -1.8549135915))
            Line((1.8242757965, -1.8549135915), (31.4189056111, 16.6543078572))
            ThreePointArc((31.4189056111, 16.6543078572), (24.9344644646, -25.3532262615), (-17.175232664, -31.1371961316))
        make_face(mode=Mode.SUBTRACT)
    extrude(amount=F14_DEPTH)


solid = Compound([f1.part, f5.part, f5b.part, f6.part, f6b.part, f7.part, f7b.part, f8.part, f10.part, f12.part, f14.part])
